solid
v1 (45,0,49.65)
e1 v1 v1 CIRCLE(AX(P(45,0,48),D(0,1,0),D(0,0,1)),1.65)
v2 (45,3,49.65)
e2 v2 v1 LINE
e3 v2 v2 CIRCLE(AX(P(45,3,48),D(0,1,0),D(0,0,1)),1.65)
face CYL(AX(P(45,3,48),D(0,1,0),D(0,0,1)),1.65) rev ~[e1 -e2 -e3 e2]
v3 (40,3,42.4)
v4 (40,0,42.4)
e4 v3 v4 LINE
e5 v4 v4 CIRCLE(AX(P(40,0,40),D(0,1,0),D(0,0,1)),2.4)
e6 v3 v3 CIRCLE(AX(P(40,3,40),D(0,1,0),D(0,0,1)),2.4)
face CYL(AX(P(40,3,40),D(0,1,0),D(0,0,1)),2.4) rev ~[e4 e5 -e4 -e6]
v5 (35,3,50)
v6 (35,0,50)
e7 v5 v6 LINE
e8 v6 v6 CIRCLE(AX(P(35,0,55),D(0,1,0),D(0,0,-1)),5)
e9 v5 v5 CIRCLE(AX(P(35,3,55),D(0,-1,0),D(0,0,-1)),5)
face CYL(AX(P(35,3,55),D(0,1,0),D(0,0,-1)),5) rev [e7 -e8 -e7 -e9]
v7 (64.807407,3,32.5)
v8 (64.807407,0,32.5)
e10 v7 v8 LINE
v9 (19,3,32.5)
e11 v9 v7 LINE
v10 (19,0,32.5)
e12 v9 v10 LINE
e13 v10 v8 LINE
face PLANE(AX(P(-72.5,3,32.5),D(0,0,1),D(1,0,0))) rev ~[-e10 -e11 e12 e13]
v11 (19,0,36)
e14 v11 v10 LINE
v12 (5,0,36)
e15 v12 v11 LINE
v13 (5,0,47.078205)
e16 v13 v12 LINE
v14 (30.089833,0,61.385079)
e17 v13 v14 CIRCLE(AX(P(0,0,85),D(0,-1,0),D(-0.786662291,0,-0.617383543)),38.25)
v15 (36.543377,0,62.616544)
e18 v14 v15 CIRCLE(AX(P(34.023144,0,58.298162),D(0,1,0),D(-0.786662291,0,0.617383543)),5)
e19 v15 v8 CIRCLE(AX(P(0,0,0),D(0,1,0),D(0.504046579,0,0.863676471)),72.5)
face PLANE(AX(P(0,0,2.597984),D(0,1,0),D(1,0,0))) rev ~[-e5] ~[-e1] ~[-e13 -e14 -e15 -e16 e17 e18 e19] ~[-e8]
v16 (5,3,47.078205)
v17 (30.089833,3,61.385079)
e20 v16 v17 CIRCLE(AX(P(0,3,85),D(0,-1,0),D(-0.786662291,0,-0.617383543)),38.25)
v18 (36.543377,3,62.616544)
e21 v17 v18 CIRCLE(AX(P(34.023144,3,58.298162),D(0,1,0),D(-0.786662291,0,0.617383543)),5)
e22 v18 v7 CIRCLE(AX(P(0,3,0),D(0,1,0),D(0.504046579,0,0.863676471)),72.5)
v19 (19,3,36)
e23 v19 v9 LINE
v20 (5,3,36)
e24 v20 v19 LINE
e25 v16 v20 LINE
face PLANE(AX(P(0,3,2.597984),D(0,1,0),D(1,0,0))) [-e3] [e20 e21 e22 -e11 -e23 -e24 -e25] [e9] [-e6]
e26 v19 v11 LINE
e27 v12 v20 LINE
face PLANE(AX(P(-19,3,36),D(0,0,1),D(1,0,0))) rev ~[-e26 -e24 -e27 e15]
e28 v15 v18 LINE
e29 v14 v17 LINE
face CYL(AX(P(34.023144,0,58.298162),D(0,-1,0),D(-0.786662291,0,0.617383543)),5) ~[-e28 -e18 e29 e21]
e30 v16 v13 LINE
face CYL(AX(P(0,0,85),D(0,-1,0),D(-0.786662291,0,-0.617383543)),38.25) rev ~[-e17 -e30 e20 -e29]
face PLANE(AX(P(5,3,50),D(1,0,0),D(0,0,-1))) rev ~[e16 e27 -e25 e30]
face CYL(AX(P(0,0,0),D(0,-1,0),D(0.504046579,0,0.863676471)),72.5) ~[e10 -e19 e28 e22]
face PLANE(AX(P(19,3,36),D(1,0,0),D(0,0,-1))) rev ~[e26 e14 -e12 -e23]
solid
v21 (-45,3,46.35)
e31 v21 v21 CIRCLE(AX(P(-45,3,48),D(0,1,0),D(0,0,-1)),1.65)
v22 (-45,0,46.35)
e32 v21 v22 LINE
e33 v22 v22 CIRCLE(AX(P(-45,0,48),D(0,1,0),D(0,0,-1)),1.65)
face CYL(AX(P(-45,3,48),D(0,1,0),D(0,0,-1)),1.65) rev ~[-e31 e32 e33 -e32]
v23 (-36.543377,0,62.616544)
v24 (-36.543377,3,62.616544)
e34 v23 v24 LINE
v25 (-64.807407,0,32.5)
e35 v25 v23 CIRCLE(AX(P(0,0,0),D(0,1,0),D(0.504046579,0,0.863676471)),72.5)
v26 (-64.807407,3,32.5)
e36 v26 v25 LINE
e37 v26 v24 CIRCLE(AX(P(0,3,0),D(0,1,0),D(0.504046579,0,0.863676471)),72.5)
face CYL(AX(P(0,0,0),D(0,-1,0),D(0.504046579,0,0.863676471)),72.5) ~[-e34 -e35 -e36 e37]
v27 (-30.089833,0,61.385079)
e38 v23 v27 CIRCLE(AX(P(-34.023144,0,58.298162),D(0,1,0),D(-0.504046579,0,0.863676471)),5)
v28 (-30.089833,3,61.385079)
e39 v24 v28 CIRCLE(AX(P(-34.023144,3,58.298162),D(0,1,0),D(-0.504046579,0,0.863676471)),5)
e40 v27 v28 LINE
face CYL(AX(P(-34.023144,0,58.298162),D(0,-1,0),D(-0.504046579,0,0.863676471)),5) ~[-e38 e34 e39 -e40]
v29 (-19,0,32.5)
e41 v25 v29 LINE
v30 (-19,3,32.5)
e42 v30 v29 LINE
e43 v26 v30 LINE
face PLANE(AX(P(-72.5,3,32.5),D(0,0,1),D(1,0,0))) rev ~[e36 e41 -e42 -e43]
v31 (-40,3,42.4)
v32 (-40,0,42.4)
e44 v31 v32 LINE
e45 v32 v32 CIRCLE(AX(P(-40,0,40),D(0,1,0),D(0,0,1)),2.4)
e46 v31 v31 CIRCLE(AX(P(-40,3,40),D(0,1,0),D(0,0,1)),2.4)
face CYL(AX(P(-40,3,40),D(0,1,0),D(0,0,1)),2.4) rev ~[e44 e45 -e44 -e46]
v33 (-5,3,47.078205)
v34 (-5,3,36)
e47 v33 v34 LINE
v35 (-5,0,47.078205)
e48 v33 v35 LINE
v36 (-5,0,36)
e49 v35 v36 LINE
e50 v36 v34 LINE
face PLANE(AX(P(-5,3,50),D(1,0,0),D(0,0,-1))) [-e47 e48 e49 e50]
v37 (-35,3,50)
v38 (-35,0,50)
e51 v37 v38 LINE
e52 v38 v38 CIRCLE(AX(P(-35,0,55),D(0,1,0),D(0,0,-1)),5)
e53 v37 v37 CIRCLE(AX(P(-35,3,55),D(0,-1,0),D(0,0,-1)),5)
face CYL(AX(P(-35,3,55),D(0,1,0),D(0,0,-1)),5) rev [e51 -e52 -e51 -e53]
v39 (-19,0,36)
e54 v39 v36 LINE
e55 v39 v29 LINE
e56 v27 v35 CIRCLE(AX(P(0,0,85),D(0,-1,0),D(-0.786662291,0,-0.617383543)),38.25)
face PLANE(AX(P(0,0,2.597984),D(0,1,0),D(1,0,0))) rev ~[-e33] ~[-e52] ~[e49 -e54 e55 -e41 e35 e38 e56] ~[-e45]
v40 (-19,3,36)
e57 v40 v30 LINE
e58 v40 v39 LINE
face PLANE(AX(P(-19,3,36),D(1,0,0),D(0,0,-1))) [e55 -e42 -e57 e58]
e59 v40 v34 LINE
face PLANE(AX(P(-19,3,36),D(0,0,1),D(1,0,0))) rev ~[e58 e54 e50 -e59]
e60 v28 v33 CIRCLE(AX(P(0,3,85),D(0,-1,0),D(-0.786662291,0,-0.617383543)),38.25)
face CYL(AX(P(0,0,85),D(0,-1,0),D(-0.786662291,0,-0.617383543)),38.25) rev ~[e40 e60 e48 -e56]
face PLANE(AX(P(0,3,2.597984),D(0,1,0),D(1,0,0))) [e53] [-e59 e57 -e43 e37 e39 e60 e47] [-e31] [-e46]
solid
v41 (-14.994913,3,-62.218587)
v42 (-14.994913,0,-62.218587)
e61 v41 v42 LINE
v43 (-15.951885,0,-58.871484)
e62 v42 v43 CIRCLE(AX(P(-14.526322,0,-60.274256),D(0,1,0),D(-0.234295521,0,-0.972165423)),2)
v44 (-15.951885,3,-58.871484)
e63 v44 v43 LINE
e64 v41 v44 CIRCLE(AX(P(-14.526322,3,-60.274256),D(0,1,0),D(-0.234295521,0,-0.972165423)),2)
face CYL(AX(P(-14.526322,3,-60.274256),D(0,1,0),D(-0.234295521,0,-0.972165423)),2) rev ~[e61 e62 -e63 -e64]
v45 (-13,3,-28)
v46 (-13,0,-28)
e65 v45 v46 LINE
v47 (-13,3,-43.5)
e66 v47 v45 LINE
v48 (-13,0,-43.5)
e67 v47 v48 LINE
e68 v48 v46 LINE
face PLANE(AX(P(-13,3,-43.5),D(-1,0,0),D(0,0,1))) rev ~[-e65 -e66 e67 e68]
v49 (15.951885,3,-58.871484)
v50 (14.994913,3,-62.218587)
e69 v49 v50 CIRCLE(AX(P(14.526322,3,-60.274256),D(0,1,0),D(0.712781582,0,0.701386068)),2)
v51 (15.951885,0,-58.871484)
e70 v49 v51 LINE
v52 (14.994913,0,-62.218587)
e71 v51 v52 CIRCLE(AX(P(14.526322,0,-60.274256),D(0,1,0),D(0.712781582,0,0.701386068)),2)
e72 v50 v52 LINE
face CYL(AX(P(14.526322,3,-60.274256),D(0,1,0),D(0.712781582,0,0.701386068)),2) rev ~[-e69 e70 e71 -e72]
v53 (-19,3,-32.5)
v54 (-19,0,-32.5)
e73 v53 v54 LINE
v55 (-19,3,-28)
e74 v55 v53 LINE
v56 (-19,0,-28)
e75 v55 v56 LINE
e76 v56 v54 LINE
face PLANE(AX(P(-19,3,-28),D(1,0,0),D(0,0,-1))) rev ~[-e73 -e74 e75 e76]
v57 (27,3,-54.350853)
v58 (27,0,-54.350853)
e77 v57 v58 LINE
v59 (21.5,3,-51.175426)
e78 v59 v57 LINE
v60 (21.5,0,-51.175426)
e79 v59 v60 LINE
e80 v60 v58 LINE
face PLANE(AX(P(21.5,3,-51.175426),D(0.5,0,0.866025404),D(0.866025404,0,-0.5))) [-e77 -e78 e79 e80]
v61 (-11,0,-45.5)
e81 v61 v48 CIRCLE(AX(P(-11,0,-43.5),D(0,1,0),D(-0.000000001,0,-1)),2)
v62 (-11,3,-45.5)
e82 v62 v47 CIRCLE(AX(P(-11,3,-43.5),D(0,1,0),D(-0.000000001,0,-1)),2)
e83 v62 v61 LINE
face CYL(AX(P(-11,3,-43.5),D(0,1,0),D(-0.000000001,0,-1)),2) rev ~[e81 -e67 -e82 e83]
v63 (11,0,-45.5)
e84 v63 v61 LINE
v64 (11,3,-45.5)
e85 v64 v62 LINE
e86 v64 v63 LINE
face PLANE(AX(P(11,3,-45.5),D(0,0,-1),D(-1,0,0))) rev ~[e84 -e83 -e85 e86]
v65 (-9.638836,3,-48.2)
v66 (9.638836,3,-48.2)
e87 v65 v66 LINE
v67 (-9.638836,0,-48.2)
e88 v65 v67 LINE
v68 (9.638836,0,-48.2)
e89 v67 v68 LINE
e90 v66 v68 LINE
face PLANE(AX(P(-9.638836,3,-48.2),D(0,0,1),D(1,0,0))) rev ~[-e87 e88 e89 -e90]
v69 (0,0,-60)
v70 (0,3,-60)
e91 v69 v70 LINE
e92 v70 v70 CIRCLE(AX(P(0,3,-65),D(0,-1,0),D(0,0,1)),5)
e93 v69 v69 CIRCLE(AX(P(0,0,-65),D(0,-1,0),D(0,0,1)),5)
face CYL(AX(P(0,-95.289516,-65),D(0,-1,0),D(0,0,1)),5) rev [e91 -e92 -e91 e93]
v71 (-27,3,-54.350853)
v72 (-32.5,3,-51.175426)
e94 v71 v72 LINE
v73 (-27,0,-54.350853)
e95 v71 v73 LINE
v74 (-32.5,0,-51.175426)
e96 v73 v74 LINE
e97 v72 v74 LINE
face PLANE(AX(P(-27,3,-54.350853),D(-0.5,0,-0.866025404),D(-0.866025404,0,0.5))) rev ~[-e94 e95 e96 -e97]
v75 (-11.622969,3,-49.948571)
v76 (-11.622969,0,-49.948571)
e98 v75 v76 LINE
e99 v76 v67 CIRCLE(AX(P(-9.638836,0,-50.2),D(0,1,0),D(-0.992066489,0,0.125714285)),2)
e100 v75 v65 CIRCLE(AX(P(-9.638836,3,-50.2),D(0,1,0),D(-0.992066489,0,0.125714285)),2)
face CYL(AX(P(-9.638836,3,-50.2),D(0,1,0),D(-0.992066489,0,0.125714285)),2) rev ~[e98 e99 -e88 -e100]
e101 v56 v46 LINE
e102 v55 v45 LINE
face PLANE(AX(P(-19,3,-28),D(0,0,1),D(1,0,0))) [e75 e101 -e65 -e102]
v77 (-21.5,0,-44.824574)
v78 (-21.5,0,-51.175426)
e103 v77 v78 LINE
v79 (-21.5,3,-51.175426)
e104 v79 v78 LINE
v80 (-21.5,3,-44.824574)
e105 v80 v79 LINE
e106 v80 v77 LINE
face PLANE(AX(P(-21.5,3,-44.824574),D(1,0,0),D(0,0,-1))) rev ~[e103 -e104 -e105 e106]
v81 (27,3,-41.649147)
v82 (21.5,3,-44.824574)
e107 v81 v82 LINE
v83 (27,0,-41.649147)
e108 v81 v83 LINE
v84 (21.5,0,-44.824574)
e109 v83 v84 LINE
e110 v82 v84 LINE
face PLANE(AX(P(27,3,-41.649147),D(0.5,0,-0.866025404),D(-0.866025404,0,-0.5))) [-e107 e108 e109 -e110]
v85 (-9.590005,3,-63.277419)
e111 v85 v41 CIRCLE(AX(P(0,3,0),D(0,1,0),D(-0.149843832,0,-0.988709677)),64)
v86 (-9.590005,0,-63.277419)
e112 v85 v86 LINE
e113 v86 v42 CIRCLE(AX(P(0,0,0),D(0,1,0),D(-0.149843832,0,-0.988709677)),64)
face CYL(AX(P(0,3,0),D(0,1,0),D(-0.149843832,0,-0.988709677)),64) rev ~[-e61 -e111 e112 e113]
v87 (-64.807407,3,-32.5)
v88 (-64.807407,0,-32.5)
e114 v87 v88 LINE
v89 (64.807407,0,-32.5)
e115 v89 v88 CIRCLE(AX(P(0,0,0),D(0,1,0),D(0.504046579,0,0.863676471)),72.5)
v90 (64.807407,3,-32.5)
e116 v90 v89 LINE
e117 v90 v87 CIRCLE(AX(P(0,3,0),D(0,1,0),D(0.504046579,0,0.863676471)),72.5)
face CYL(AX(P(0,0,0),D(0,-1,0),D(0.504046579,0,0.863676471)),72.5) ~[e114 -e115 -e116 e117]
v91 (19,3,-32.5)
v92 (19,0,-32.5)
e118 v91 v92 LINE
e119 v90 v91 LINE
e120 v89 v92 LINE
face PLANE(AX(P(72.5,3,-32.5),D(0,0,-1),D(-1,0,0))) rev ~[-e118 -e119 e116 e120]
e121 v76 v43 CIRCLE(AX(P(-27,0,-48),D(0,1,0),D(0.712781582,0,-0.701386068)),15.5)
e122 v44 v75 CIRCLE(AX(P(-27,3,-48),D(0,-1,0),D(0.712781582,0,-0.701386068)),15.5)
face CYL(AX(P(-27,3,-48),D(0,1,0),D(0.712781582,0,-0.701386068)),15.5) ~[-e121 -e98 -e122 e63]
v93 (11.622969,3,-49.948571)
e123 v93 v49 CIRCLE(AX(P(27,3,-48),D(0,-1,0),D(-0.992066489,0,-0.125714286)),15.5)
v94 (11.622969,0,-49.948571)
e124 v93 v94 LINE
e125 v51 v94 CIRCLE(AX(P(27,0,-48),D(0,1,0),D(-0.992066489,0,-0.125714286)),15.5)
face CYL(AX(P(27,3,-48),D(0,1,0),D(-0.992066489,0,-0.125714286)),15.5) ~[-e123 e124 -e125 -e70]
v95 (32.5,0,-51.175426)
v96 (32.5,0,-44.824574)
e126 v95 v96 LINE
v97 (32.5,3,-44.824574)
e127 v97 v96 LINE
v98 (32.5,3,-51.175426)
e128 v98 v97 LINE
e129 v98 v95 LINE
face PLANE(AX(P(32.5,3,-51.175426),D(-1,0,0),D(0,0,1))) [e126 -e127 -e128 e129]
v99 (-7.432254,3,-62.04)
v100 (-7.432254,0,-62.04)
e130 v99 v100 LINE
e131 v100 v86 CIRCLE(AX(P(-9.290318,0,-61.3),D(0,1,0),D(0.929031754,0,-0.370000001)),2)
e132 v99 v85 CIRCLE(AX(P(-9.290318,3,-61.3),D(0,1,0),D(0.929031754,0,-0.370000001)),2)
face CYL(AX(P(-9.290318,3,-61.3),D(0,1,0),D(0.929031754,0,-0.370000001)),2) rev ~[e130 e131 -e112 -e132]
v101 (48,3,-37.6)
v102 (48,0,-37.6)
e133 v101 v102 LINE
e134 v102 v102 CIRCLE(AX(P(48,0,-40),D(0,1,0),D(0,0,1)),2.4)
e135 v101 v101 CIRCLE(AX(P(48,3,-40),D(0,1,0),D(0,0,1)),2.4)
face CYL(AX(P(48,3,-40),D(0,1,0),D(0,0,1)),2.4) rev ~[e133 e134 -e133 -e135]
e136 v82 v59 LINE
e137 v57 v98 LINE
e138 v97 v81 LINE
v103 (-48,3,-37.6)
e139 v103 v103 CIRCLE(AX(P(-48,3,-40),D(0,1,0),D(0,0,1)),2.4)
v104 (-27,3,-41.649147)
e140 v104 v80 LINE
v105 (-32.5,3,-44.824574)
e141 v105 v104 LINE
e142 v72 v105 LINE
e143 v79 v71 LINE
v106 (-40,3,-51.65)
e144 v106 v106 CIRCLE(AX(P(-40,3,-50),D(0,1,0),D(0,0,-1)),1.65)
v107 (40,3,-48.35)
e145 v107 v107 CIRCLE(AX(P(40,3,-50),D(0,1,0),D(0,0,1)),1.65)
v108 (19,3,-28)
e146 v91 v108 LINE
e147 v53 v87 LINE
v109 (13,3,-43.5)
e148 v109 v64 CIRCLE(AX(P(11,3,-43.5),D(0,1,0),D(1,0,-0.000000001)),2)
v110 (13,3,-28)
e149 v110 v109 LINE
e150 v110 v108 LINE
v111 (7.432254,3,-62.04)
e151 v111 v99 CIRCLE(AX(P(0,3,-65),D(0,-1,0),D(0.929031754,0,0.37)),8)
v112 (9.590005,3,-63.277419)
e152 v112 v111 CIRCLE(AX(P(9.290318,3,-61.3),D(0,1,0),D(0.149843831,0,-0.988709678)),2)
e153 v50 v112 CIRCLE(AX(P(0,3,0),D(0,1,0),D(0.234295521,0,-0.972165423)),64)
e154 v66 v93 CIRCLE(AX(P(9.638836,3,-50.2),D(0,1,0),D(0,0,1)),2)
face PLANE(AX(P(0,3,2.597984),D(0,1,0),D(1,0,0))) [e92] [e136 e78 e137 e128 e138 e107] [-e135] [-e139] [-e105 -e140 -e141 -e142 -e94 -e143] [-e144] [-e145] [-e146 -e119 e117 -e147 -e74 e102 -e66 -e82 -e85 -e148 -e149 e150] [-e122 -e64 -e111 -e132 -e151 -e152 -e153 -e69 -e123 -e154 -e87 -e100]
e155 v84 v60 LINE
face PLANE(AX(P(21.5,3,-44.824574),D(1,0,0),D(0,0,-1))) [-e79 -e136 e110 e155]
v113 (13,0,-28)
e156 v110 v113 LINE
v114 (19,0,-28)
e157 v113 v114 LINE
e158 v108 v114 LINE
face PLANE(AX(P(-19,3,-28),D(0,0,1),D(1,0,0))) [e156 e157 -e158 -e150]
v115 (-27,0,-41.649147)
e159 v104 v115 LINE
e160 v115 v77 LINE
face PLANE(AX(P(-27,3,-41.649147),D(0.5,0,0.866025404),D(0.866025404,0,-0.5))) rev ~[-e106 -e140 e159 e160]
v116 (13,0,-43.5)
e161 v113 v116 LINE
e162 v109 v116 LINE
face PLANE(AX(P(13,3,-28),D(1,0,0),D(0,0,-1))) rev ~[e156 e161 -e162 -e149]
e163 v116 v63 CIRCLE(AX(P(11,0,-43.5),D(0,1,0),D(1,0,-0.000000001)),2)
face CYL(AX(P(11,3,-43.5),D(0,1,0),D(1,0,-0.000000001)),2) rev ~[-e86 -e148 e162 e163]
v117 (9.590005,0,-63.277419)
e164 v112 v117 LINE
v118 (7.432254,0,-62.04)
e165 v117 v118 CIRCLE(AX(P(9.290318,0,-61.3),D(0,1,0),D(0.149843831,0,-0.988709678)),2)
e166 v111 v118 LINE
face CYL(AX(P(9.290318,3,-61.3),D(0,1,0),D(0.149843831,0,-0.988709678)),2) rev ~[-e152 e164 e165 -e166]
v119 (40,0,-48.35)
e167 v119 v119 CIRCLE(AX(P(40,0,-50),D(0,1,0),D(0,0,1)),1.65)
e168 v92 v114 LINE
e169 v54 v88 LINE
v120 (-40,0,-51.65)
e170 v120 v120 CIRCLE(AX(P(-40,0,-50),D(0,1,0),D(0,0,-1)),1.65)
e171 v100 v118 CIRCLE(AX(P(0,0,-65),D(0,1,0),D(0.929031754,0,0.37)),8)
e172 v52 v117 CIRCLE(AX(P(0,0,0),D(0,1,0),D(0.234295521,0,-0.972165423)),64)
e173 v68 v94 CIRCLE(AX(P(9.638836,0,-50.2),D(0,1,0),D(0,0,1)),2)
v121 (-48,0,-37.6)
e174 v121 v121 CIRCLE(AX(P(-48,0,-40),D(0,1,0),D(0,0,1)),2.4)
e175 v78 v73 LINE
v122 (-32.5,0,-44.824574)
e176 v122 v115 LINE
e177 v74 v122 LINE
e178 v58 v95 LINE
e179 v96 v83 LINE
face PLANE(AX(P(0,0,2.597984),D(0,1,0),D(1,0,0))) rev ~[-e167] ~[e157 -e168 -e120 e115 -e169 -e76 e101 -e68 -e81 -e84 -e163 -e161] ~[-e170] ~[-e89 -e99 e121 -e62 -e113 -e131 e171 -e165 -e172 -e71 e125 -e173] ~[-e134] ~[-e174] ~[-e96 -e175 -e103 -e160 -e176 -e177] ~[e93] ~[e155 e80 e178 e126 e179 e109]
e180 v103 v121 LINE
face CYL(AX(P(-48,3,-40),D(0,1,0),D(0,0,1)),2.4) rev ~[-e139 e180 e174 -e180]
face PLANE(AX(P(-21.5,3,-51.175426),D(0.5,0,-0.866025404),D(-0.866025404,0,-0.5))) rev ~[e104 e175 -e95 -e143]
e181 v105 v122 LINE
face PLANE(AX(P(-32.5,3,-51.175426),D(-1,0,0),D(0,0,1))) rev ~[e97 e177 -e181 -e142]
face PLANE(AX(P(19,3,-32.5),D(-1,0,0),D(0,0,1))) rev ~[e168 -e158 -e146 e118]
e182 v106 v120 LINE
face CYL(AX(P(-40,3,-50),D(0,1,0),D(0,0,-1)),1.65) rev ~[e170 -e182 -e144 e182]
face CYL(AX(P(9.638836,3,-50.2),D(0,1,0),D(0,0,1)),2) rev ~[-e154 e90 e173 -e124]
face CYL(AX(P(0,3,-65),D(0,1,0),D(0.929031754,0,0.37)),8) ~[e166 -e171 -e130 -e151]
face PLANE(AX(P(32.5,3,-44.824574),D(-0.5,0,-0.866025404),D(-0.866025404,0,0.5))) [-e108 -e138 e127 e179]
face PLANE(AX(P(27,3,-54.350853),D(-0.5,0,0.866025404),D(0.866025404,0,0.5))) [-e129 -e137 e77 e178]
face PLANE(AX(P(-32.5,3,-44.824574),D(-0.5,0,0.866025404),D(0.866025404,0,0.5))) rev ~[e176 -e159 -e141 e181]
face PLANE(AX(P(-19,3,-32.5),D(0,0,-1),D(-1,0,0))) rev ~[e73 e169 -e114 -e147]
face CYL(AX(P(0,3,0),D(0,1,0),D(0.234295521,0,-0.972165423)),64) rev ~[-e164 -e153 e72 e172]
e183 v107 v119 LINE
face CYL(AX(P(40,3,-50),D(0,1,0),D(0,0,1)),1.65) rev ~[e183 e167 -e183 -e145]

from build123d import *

# Parameters (mm, degrees)
BOSS_EXTRUDE1_DEPTH      = 3
SOLENOID_PLACEMENT_W     = 38
SOLENOID_PLACEMENT_H     = 64
CUT_EXTRUDE1_DEPTH       = 103.574363269
CUT_EXTRUDE4_DEPTH       = 103.574363269
CUT_EXTRUDE5_DEPTH       = 103.574363269
SKETCH6_R                = 2.4
CUT_EXTRUDE6_DEPTH       = 103.574363269
CUT_EXTRUDE3_DEPTH       = 103.574363269
SKETCH7_W                = 10
SKETCH7_H                = 50
CUT_EXTRUDE7_DEPTH       = 98.289516393
SKETCH9_R                = 5
CUT_EXTRUDE11_DEPTH      = 98.289516393
CUT_EXTRUDE12_DEPTH      = 98.289516393
CUT_EXTRUDE12_DEPTH_BACK = 98.289516393
SKETCH10_R               = 5
SKETCH11_R               = 1.65
CUT_EXTRUDE13_DEPTH      = 98.289516393
CUT_EXTRUDE14_DEPTH      = 98.289516393


with BuildPart() as part:
    # Sketch1 → Boss-Extrude1 (new body)
    with BuildSketch(Plane(origin=(0, 0, 0), x_dir=(1, 0, 0), z_dir=(0, 1, 0))):
        with BuildLine():
            ThreePointArc((36.543377003, -62.616544118), (0, 72.5), (-36.543377003, -62.616544118))
            ThreePointArc((-36.543377003, -62.616544118), (-33.085954668, -63.20954405), (-30.089832649, -61.38507948))
            ThreePointArc((-30.089832649, -61.38507948), (0, -46.75), (30.089832649, -61.38507948))
            ThreePointArc((30.089832649, -61.38507948), (33.085954668, -63.20954405), (36.543377003, -62.616544118))
        make_face()
    extrude(amount=BOSS_EXTRUDE1_DEPTH)

    # solenoid placement → Cut-Extrude1 (cut, through all)
    with BuildSketch(Plane(origin=(0, 3, 0), x_dir=(1, 0, 0), z_dir=(0, 1, 0))):
        with Locations((0, -4)):
            Rectangle(SOLENOID_PLACEMENT_W, SOLENOID_PLACEMENT_H)
    extrude(amount=-CUT_EXTRUDE1_DEPTH, mode=Mode.SUBTRACT)

    # Sketch4 → Cut-Extrude4 (cut, through all)
    with BuildSketch(Plane(origin=(0, 3, 0), x_dir=(1, 0, 0), z_dir=(0, 1, 0))):
        with BuildLine():
            Line((-13, 28), (13, 28))
            Line((13, 28), (13, 43.5))
            ThreePointArc((13, 43.5), (12.414213562, 44.914213562), (11, 45.5))
            Line((11, 45.5), (-11, 45.5))
            ThreePointArc((-11, 45.5), (-12.414213562, 44.914213562), (-13, 43.5))
            Line((-13, 43.5), (-13, 28))
        make_face()
    extrude(amount=-CUT_EXTRUDE4_DEPTH, mode=Mode.SUBTRACT)

    # Sketch5 → Cut-Extrude5 (cut, through all)
    with BuildSketch(Plane(origin=(0, 3, 0), x_dir=(1, 0, 0), z_dir=(0, 1, 0))):
        Polygon((-21.5, 51.175426481), (-27, 54.350852961), (-32.5, 51.175426481), (-32.5, 44.824573519), (-27, 41.649147039), (-21.5, 44.824573519), align=None)
        Polygon((21.5, 44.824573519), (21.5, 51.175426481), (27, 54.350852961), (32.5, 51.175426481), (32.5, 44.824573519), (27, 41.649147039), align=None)
    extrude(amount=-CUT_EXTRUDE5_DEPTH, mode=Mode.SUBTRACT)

    # Sketch6 → Cut-Extrude6 (cut, through all)
    with BuildSketch(Plane(origin=(0, 3, 0), x_dir=(1, 0, 0), z_dir=(0, 1, 0))):
        with Locations((40, -40)):
            Circle(SKETCH6_R)
        with Locations((-40, -40)):
            Circle(SKETCH6_R)
        with Locations((48, 40)):
            Circle(SKETCH6_R)
        with Locations((-48, 40)):
            Circle(SKETCH6_R)
    extrude(amount=-CUT_EXTRUDE6_DEPTH, mode=Mode.SUBTRACT)

    # Sketch3 → Cut-Extrude3 (cut, through all)
    with BuildSketch(Plane(origin=(0, 3, 0), x_dir=(1, 0, 0), z_dir=(0, 1, 0))):
        Polygon((-19, 28), (-19, 32.5), (-72.5, 32.5), (-72.5, -32.5), (72.5, -32.5), (72.5, 32.5), (19, 32.5), (19, 28), align=None)
    extrude(amount=-CUT_EXTRUDE3_DEPTH, mode=Mode.SUBTRACT)


with BuildPart() as cut_extrude3_piece_1:
    # of the separate pieces the step leaves, piece 1, a body of its own (cut_extrude3_pieces)
    add(part.part.solids().sort_by_distance((64.807406984, 0, -32.5))[0])

    # Sketch10 → Cut-Extrude12 (cut, two sides: drawn at the far end of the back side and taken through both)
    with BuildSketch(Plane(origin=(0, 3, 0), x_dir=(1, 0, 0), z_dir=(0, 1, 0)).offset(-CUT_EXTRUDE12_DEPTH_BACK)):
        with Locations((0, 65)):
            Circle(SKETCH10_R)
    extrude(amount=CUT_EXTRUDE12_DEPTH + CUT_EXTRUDE12_DEPTH_BACK, mode=Mode.SUBTRACT)


with BuildPart() as cut_extrude3_piece_2:
    # of the separate pieces the step leaves, piece 2, a body of its own (cut_extrude3_pieces)
    add(part.part.solids().sort_by_distance((-36.543377003, 0, 62.616544118))[0])

    # Sketch7 → Cut-Extrude7 (cut, through all)
    with BuildSketch(Plane(origin=(0, 3, 0), x_dir=(1, 0, 0), z_dir=(0, 1, 0))):
        with Locations((0, -25)):
            Rectangle(SKETCH7_W, SKETCH7_H)
    extrude(amount=-CUT_EXTRUDE7_DEPTH, mode=Mode.SUBTRACT)


with BuildPart() as cut_extrude7_piece_1:
    # of the separate pieces the step leaves, piece 1, a body of its own (cut_extrude7_pieces)
    add(cut_extrude3_piece_2.part.solids().sort_by_distance((-36.543377003, 0, 62.616544118))[0])


with BuildPart() as cut_extrude7_piece_2:
    # of the separate pieces the step leaves, piece 2, a body of its own (cut_extrude7_pieces)
    add(cut_extrude3_piece_2.part.solids().sort_by_distance((5, 0, 47.078205475))[0])


with BuildPart() as cut_extrude11_tool:
    # Sketch9 → Cut-Extrude11 (new, through all)
    with BuildSketch(Plane.XZ.offset(-3)):
        with Locations((35, 55)):
            Circle(SKETCH9_R)
        with Locations((-35, 55)):
            Circle(SKETCH9_R)
    extrude(amount=CUT_EXTRUDE11_DEPTH)


with BuildPart() as cut_extrude7_piece_1_1:
    add(cut_extrude7_piece_1.part)

    # Cut-Extrude11: cut by cut_extrude11_tool
    add(cut_extrude11_tool.part, mode=Mode.SUBTRACT)


with BuildPart() as cut_extrude7_piece_2_1:
    add(cut_extrude7_piece_2.part)

    # Cut-Extrude11: cut by cut_extrude11_tool
    add(cut_extrude11_tool.part, mode=Mode.SUBTRACT)


with BuildPart() as cut_extrude13_tool:
    # Sketch11 → Cut-Extrude13 (new, through all)
    with BuildSketch(Plane(origin=(0, 3, 0), x_dir=(1, 0, 0), z_dir=(0, 1, 0))):
        with Locations((45, -48)):
            Circle(SKETCH11_R)
        with Locations((-45, -48)):
            Circle(SKETCH11_R)
        with Locations((40, 50)):
            Circle(SKETCH11_R)
        with Locations((-40, 50)):
            Circle(SKETCH11_R)
    extrude(amount=-CUT_EXTRUDE13_DEPTH)


with BuildPart() as cut_extrude3_piece_1_1:
    add(cut_extrude3_piece_1.part)

    # Cut-Extrude13: cut by cut_extrude13_tool
    add(cut_extrude13_tool.part, mode=Mode.SUBTRACT)

    # Sketch13 → Cut-Extrude14 (cut, through all)
    with BuildSketch(Plane(origin=(0, 3, 0), x_dir=(1, 0, 0), z_dir=(0, 1, 0))):
        with BuildLine():
            ThreePointArc((-11.622969422, 49.948571429), (-10.961172041, 48.699523885), (-9.638836445, 48.2))
            Line((-9.638836445, 48.2), (9.638836445, 48.2))
            ThreePointArc((9.638836445, 48.2), (10.961172041, 48.699523885), (11.622969422, 49.948571429))
            ThreePointArc((11.622969422, 49.948571429), (13.054510917, 54.765599326), (15.951885484, 58.871484058))
            ThreePointArc((15.951885484, 58.871484058), (16.449270482, 60.8240474), (14.994913363, 62.21858704))
            ThreePointArc((14.994913363, 62.21858704), (12.303854546, 62.806171379), (9.590005203, 63.277419355))
            ThreePointArc((9.590005203, 63.277419355), (8.295362524, 63.03495375), (7.432254032, 62.04))
            ThreePointArc((7.432254032, 62.04), (0, 57), (-7.432254032, 62.04))
            ThreePointArc((-7.432254032, 62.04), (-8.295362524, 63.03495375), (-9.590005203, 63.277419355))
            ThreePointArc((-9.590005203, 63.277419355), (-12.303854546, 62.806171379), (-14.994913363, 62.21858704))
            ThreePointArc((-14.994913363, 62.21858704), (-16.449270482, 60.8240474), (-15.951885484, 58.871484058))
            ThreePointArc((-15.951885484, 58.871484058), (-13.054510917, 54.765599326), (-11.622969422, 49.948571429))
        make_face()
    extrude(amount=-CUT_EXTRUDE14_DEPTH, mode=Mode.SUBTRACT)


with BuildPart() as cut_extrude7_piece_1_2:
    add(cut_extrude7_piece_1_1.part)

    # Cut-Extrude13: cut by cut_extrude13_tool
    add(cut_extrude13_tool.part, mode=Mode.SUBTRACT)


with BuildPart() as cut_extrude7_piece_2_2:
    add(cut_extrude7_piece_2_1.part)

    # Cut-Extrude13: cut by cut_extrude13_tool
    add(cut_extrude13_tool.part, mode=Mode.SUBTRACT)


solid = Compound([cut_extrude3_piece_1_1.part, cut_extrude7_piece_1_2.part, cut_extrude7_piece_2_2.part])
